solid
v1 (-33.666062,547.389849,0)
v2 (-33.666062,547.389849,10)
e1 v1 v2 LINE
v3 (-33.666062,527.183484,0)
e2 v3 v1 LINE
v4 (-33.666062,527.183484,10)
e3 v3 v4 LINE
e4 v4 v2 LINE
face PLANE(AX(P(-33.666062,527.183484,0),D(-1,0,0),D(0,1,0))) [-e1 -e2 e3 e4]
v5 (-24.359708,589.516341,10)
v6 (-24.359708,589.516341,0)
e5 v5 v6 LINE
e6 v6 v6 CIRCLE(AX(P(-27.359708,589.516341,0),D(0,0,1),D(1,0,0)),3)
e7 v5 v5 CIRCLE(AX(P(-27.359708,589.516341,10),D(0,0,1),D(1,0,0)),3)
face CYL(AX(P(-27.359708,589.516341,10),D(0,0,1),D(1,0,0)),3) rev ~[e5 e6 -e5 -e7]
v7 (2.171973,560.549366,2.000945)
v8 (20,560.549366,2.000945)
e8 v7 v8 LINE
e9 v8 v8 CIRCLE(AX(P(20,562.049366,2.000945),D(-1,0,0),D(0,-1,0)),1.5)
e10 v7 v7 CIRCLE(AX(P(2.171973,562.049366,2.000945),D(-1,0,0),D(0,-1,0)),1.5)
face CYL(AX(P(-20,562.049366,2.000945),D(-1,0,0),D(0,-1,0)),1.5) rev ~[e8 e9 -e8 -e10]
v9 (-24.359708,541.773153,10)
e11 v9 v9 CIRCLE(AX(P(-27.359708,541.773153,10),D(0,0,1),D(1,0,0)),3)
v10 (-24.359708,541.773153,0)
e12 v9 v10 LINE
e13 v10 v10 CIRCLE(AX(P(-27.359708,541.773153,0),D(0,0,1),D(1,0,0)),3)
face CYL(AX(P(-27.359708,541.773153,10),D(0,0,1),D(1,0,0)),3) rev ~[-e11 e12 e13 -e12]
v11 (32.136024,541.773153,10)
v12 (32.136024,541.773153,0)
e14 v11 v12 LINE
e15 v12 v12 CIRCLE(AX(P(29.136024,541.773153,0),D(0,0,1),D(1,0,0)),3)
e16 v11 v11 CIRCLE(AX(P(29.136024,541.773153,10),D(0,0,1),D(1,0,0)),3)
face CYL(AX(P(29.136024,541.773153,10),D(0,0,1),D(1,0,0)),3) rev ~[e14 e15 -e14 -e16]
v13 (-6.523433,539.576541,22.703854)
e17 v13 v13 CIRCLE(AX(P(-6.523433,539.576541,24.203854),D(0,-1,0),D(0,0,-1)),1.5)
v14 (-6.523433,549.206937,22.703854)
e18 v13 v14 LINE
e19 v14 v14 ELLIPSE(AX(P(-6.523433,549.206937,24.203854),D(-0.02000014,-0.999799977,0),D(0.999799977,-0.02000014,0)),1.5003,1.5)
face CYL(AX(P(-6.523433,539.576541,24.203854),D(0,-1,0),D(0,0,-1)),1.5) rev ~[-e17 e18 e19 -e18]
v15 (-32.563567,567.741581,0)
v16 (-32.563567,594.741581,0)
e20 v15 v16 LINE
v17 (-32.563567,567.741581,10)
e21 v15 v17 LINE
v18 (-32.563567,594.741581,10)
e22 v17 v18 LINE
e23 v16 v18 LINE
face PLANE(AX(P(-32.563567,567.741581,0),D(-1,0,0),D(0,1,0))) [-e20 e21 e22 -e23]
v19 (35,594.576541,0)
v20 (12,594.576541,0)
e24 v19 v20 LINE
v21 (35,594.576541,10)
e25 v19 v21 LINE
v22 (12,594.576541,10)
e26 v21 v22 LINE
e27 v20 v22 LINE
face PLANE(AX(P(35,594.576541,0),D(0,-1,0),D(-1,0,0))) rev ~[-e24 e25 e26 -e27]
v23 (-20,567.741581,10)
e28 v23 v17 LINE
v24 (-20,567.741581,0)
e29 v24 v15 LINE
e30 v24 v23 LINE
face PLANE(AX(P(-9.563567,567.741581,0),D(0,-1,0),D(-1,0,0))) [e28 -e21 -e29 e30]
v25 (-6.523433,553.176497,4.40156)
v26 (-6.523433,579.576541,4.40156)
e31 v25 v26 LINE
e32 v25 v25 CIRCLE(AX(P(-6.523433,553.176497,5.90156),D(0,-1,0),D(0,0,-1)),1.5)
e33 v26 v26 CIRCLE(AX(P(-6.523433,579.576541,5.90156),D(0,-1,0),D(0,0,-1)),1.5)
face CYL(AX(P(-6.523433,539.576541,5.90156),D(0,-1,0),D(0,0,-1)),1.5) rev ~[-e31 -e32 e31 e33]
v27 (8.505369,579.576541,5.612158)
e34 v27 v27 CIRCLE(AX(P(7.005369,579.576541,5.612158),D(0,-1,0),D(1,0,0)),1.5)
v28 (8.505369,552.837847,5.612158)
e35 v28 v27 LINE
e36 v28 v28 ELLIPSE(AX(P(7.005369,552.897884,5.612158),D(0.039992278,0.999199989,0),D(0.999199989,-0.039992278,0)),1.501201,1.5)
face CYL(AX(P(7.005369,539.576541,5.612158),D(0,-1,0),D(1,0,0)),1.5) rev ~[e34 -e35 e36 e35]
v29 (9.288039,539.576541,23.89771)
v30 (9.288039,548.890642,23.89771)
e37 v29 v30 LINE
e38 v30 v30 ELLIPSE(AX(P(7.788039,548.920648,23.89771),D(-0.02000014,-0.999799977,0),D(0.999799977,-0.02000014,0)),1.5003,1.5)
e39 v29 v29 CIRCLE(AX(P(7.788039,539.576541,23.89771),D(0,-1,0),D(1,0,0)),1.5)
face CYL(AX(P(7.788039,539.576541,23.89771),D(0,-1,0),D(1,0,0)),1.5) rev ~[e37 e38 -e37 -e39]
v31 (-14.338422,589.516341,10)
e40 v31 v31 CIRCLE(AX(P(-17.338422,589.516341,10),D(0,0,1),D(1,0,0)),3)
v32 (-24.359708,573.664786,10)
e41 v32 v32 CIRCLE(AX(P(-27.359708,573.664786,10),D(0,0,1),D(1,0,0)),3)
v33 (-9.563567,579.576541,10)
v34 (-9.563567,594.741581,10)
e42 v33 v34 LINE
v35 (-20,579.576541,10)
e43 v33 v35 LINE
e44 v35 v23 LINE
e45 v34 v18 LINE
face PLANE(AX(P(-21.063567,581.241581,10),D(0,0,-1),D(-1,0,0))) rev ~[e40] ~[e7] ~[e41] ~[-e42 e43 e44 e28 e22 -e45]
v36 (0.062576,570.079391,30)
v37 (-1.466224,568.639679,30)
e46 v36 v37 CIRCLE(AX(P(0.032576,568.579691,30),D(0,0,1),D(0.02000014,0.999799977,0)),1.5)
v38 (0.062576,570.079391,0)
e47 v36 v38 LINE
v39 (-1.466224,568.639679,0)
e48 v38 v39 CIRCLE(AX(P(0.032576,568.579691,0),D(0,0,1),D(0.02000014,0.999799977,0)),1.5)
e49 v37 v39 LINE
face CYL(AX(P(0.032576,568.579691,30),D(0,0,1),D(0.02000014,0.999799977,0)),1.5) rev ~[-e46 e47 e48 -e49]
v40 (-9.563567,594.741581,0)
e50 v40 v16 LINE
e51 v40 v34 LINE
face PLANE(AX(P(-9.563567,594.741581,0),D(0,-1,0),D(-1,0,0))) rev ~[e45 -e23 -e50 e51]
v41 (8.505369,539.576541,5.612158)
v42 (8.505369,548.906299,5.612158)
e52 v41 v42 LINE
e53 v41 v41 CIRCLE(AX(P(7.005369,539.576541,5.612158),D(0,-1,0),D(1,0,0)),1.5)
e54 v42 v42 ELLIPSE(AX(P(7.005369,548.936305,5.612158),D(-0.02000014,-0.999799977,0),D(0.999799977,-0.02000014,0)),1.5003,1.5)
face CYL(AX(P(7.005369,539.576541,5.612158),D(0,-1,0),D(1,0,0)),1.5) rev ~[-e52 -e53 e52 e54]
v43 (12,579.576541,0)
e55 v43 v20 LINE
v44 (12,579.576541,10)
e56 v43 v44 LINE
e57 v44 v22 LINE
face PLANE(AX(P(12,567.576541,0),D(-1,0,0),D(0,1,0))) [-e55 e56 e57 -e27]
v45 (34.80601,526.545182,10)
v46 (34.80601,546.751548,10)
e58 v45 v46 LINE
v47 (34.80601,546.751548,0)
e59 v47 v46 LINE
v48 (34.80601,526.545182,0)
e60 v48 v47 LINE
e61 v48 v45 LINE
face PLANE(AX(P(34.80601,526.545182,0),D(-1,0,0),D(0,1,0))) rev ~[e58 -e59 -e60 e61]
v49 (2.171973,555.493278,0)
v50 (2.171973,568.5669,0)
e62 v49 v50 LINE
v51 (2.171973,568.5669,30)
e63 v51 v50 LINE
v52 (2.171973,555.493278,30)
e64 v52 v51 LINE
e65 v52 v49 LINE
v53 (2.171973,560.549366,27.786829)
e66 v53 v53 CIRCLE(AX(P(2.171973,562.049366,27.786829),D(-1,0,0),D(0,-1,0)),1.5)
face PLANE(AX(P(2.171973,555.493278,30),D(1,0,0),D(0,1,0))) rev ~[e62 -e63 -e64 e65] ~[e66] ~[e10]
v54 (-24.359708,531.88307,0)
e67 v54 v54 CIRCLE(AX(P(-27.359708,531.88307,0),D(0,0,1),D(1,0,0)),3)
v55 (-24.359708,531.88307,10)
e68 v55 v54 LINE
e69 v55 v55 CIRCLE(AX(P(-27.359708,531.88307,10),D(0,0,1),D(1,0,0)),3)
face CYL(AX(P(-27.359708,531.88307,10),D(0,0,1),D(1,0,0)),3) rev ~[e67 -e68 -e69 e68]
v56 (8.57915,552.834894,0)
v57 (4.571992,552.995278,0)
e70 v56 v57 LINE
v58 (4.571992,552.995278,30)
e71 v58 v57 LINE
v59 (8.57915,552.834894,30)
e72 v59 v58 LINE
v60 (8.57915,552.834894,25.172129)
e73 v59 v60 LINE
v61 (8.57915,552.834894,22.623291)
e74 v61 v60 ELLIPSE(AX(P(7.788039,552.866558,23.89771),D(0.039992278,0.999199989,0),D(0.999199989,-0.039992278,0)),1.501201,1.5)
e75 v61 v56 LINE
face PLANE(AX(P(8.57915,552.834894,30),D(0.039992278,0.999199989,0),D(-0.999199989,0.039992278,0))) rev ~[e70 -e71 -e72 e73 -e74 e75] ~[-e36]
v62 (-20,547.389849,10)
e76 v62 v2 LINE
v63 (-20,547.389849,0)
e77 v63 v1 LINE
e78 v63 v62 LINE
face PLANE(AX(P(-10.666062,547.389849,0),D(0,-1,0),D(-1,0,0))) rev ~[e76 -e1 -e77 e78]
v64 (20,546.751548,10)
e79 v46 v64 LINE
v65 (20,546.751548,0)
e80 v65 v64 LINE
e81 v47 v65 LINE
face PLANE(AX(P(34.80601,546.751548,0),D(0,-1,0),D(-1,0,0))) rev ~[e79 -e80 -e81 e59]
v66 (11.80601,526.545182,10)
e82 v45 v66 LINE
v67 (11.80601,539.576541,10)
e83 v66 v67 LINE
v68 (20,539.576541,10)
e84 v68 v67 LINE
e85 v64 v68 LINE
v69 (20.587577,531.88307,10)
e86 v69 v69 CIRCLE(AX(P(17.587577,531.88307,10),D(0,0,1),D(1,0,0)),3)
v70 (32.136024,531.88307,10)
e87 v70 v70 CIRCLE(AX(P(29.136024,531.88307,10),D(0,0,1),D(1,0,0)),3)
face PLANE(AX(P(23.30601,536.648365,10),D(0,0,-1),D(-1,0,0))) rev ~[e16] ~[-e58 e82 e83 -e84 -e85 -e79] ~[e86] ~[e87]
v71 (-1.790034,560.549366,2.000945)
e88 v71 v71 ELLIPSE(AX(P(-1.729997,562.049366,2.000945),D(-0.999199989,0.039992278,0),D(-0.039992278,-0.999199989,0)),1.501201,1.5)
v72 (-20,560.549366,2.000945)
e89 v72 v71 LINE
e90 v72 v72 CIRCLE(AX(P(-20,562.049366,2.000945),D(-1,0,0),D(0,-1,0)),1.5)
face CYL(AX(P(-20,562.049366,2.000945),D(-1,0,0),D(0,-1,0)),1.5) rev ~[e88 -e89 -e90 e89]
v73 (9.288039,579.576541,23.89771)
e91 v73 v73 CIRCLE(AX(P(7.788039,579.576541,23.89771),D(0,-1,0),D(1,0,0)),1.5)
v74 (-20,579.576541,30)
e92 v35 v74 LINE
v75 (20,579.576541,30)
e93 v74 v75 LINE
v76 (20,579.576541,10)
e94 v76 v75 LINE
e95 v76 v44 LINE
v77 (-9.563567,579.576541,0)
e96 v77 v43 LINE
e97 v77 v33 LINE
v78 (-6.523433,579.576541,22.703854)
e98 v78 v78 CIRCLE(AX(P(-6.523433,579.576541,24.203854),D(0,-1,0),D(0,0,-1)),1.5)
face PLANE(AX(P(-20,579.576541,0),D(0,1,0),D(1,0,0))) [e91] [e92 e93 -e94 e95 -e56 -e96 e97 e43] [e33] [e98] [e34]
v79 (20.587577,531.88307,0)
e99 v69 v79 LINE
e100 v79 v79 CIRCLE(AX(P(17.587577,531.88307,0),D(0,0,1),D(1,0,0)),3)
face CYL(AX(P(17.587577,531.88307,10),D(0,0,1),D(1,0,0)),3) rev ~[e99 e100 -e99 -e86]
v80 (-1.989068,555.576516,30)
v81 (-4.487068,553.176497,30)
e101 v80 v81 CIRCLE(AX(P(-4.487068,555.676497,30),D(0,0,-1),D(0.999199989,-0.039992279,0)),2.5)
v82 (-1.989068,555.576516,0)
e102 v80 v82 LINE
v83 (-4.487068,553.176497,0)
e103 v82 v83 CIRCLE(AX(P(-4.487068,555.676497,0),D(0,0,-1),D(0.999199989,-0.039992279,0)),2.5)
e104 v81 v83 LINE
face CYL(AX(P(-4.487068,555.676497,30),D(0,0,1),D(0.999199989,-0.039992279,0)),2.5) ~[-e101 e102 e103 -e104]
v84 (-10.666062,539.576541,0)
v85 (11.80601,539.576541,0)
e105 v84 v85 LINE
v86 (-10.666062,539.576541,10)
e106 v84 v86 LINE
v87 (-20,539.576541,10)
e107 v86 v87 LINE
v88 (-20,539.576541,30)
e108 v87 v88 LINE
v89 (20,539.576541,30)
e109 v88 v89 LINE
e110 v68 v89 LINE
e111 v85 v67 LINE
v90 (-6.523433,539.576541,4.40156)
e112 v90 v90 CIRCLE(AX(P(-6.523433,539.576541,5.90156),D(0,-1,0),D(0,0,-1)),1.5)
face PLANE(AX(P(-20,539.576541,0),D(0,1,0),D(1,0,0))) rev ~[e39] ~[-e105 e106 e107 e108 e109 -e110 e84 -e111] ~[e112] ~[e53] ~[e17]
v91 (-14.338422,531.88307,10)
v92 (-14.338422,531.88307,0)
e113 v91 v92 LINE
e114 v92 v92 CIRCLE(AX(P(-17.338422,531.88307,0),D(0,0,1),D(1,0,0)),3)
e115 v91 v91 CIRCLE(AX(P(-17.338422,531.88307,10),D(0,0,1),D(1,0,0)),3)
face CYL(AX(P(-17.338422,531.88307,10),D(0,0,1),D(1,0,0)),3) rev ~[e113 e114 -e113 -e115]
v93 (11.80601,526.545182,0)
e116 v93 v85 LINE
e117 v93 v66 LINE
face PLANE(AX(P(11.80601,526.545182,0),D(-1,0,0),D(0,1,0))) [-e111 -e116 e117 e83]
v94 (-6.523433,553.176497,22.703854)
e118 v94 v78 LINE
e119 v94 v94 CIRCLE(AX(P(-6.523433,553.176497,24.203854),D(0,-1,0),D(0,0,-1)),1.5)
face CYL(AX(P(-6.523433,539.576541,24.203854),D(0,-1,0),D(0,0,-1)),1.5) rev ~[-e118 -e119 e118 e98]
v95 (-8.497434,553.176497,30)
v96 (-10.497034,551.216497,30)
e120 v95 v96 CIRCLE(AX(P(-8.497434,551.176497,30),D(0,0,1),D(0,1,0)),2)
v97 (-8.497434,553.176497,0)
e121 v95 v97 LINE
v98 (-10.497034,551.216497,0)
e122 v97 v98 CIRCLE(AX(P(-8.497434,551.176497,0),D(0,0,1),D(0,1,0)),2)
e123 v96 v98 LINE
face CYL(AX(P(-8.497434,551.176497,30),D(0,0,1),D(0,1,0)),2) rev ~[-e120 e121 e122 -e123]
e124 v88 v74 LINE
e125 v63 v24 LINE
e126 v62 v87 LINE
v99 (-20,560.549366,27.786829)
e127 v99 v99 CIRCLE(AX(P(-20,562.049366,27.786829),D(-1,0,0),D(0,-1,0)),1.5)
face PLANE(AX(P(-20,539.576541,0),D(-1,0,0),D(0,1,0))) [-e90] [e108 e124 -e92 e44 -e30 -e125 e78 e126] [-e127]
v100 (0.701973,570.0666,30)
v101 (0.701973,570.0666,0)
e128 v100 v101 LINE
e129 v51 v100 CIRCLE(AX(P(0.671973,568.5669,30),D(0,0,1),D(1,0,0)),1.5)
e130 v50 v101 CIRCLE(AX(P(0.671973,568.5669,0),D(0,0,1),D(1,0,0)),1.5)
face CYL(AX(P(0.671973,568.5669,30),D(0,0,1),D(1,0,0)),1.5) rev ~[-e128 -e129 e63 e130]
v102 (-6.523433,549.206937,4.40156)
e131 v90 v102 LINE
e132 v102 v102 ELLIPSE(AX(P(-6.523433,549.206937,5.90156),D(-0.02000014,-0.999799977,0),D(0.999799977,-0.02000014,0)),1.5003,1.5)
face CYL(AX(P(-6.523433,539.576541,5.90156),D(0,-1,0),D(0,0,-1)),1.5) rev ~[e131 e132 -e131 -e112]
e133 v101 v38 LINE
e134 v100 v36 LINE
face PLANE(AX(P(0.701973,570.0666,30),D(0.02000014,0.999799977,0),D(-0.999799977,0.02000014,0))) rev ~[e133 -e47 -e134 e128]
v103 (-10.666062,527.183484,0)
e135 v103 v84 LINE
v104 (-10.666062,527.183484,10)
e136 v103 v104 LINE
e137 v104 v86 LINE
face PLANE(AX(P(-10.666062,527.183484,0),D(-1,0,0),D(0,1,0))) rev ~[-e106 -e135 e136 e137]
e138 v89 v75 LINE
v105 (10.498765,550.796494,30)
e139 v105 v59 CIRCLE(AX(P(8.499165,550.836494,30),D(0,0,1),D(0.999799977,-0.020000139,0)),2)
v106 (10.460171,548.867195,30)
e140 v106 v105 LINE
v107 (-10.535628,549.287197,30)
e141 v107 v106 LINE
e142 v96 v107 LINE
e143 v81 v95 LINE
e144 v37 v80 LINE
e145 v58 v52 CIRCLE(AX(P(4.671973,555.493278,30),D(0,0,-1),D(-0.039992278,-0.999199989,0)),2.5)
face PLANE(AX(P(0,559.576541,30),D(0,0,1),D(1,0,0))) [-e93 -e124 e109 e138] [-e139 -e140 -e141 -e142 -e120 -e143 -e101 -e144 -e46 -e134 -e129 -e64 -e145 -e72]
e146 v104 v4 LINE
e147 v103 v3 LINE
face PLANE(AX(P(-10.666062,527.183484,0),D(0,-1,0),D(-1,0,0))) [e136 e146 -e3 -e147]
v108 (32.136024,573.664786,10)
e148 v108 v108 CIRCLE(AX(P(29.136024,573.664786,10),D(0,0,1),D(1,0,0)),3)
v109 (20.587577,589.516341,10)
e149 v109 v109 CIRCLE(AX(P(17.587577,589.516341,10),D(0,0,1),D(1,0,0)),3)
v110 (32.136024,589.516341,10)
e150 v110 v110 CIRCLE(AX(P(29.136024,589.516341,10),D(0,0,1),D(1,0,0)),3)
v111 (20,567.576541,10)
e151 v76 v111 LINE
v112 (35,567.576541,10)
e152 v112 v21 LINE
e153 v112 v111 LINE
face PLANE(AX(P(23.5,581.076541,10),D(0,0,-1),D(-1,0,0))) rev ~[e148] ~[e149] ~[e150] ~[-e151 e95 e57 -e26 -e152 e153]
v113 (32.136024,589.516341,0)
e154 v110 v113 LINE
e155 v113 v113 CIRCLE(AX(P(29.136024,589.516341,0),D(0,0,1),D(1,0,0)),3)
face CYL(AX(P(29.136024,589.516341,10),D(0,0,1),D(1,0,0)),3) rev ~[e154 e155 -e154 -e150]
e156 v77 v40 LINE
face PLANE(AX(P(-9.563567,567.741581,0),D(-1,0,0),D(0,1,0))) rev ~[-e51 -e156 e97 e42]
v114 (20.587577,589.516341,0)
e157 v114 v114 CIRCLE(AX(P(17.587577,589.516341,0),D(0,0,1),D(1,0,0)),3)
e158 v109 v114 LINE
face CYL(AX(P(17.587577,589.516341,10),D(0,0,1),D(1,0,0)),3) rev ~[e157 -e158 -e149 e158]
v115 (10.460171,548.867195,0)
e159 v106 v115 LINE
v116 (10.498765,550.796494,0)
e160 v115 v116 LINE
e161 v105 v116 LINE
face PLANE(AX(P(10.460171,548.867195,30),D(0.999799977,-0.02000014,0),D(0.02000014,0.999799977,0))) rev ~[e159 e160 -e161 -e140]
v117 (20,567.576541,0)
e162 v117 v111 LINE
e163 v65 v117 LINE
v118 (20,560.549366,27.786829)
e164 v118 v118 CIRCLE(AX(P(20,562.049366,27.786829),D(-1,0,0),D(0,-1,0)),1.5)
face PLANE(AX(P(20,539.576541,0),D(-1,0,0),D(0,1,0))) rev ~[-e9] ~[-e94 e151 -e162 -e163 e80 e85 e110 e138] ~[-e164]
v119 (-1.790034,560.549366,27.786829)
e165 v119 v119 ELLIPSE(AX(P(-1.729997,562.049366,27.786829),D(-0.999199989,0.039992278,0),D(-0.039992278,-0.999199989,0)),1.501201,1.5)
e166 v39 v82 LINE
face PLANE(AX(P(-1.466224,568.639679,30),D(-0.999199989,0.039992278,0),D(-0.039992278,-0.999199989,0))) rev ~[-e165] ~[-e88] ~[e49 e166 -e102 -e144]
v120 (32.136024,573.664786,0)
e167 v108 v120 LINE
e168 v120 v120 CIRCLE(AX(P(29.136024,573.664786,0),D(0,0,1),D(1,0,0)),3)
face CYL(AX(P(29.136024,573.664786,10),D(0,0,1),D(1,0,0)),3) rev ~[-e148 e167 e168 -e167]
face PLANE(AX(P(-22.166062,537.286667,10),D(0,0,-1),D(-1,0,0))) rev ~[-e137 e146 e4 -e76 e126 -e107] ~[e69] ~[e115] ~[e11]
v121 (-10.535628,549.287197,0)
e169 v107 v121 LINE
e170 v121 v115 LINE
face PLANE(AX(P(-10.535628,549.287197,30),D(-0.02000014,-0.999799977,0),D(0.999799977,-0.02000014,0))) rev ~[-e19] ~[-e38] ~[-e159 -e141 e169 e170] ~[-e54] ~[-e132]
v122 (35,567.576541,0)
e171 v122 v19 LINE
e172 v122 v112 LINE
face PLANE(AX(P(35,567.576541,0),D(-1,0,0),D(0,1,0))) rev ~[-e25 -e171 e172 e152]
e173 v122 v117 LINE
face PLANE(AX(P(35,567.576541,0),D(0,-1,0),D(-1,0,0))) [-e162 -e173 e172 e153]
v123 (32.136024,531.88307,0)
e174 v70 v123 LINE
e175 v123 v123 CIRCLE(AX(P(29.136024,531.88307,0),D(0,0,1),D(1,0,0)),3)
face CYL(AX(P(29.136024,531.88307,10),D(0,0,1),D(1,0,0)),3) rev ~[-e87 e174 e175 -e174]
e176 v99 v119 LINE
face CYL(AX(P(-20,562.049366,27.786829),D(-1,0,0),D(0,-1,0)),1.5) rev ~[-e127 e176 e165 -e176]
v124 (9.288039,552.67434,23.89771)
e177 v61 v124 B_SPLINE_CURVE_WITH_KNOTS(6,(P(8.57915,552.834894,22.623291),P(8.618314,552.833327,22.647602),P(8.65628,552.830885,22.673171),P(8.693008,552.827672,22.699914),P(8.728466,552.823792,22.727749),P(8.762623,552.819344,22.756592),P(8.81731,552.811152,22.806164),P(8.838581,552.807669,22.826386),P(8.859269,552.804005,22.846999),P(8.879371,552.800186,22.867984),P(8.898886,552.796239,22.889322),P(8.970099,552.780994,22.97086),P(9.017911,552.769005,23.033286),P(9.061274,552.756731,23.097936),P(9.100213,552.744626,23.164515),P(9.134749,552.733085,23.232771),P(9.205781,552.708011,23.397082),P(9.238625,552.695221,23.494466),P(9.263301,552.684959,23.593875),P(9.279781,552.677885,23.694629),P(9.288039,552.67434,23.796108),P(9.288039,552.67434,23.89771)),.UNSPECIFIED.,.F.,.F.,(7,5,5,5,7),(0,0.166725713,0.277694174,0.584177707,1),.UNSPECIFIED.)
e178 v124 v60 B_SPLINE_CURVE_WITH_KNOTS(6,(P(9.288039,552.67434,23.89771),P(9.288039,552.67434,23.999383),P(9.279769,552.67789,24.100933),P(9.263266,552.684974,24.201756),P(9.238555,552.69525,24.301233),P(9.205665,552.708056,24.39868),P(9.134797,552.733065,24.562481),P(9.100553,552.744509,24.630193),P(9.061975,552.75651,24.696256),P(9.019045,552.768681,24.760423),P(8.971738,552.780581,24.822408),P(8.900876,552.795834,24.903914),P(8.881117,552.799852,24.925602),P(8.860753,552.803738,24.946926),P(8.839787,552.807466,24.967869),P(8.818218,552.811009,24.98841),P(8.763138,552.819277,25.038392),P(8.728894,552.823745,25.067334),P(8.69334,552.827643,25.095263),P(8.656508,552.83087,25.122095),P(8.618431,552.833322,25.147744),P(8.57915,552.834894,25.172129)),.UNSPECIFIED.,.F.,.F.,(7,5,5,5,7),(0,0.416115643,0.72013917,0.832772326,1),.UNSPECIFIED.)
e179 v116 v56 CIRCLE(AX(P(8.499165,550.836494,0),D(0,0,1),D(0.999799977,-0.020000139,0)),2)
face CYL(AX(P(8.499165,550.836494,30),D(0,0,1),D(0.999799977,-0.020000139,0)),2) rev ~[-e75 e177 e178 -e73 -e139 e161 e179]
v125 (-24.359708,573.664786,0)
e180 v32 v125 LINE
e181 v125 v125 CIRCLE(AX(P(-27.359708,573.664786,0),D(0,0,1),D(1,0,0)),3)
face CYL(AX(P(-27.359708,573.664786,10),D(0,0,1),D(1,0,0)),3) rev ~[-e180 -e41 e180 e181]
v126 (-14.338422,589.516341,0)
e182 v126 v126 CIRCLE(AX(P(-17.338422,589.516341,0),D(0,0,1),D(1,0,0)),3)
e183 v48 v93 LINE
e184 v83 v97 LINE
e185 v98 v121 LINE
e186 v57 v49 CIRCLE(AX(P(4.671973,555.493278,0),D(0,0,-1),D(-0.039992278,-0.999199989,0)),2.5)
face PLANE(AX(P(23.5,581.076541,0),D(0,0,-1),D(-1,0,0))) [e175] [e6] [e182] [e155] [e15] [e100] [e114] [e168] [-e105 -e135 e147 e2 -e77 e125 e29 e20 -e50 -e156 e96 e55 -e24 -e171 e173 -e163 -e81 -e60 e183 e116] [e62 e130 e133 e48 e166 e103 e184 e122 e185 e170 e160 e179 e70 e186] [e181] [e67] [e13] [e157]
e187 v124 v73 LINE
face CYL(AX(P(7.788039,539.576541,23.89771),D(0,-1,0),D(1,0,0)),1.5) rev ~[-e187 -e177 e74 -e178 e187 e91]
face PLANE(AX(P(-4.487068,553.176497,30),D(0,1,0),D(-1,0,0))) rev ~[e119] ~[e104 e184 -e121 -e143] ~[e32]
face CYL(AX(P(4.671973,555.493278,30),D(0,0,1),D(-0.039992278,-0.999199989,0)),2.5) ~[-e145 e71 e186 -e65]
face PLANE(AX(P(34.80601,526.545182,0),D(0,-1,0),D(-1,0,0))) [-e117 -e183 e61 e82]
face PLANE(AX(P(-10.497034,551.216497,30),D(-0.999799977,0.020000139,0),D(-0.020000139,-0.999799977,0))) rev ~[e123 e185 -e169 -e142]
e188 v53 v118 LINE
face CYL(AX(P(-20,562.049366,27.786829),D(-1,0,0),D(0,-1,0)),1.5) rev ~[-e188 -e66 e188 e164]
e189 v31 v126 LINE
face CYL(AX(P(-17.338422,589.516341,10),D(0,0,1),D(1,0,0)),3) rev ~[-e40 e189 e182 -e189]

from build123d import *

# Parameters (mm, degrees)
ESQUISSE1_W             = 40
ESQUISSE1_H             = 40
BOSS_EXTRU_1_DEPTH      = 30
ENL_V_MAT_EXTRU_1_DEPTH = 30
ESQUISSE4_R             = 1.5
ENL_V_MAT_EXTRU_2_DEPTH = 41
ESQUISSE5_R             = 1.5
ENL_V_MAT_EXTRU_3_DEPTH = 41
ESQUISSE6_W             = 23
ESQUISSE6_H             = 27
ESQUISSE6_H_2           = 20.20636544
ESQUISSE6_H_3           = 20.206365439
BOSS_EXTRU_2_DEPTH      = 10
ESQUISSE7_R             = 3
ENL_V_MAT_EXTRU_4_DEPTH = 11.0000001


with BuildPart() as part:
    # Esquisse1 → Boss.-Extru.1 (new body)
    with BuildSketch(Plane.XY):
        with Locations((0, 559.576541314)):
            Rectangle(ESQUISSE1_W, ESQUISSE1_H)
        with BuildLine():
            Line((-10.025728158, 549.777097393), (9.970271386, 549.3770946))
            Line((9.970271386, 549.3770946), (9.998865294, 550.806494043))
            ThreePointArc((9.998865294, 550.806494043), (9.591165544, 551.864859717), (8.559153746, 552.335294236))
            Line((8.559153746, 552.335294236), (4.551996141, 552.495677906))
            ThreePointArc((4.551996141, 552.495677906), (2.508650242, 553.414808545), (1.671972976, 555.493277873))
            Line((1.671972976, 555.493277873), (1.671972976, 568.566900265))
            ThreePointArc((1.671972976, 568.566900265), (1.386115868, 569.266900215), (0.691973116, 569.566700242))
            Line((0.691973116, 569.566700242), (0.052575697, 569.579490838))
            ThreePointArc((0.052575697, 569.579490838), (-0.653001419, 569.307691005), (-0.966624431, 568.619683139))
            Line((-0.966624431, 568.619683139), (-1.489468376, 555.556519791))
            ThreePointArc((-1.489468376, 555.556519791), (-2.408599014, 553.513173892), (-4.487068342, 552.676496626))
            Line((-4.487068342, 552.676496626), (-8.497434284, 552.676496626))
            ThreePointArc((-8.497434284, 552.676496626), (-9.54743421, 552.247710964), (-9.99713425, 551.206496835))
            Line((-9.99713425, 551.206496835), (-10.025728158, 549.777097393))
        make_face(mode=Mode.SUBTRACT)
    extrude(amount=BOSS_EXTRU_1_DEPTH)

    # Esquisse3 → Enlèv. mat.-Extru.1 (cut)
    with BuildSketch(Plane.XY.offset(30)):
        with BuildLine():
            Line((0.701973186, 570.066600231), (0.062575767, 570.079390827))
            ThreePointArc((0.062575767, 570.079390827), (-0.995789907, 569.671691077), (-1.466224425, 568.639679279))
            Line((-1.466224425, 568.639679279), (-1.98906837, 555.57651593))
            ThreePointArc((-1.98906837, 555.57651593), (-2.755010569, 553.873727681), (-4.487068342, 553.176496626))
            Line((-4.487068342, 553.176496626), (-8.497434284, 553.176496626))
            ThreePointArc((-8.497434284, 553.176496626), (-9.897434185, 552.604782409), (-10.497034239, 551.216496905))
            Line((-10.497034239, 551.216496905), (-10.535628216, 549.287197474))
            Line((-10.535628216, 549.287197474), (10.460171305, 548.867194542))
            Line((10.460171305, 548.867194542), (10.498765283, 550.796493973))
            ThreePointArc((10.498765283, 550.796493973), (9.955165615, 552.207648206), (8.579149885, 552.83489423))
            Line((8.579149885, 552.83489423), (4.57199228, 552.995277901))
            ThreePointArc((4.57199228, 552.995277901), (2.869204031, 553.761220099), (2.171972976, 555.493277873))
            Line((2.171972976, 555.493277873), (2.171972976, 568.566900265))
            ThreePointArc((2.171972976, 568.566900265), (1.743187314, 569.61690019), (0.701973186, 570.066600231))
        make_face()
    extrude(amount=-ENL_V_MAT_EXTRU_1_DEPTH, mode=Mode.SUBTRACT)

    # Esquisse4 → Enlèv. mat.-Extru.2 (cut, through all)
    with BuildSketch(Plane.XZ.offset(-539.576541314)):
        with Locations(Location((-6.523433168, 24.203853726, 0), (0, 0, 270))):  # turned: the seam where the file's is
            Circle(ESQUISSE4_R)
        with Locations(Location((-6.523433168, 5.901559872, 0), (0, 0, 270))):  # turned: the seam where the file's is
            Circle(ESQUISSE4_R)
        with Locations((7.005369476, 5.612158233)):
            Circle(ESQUISSE4_R)
        with Locations((7.788039062, 23.897709596)):
            Circle(ESQUISSE4_R)
    extrude(amount=-ENL_V_MAT_EXTRU_2_DEPTH, mode=Mode.SUBTRACT)

    # Esquisse5 → Enlèv. mat.-Extru.3 (cut, through all)
    with BuildSketch(Plane.ZY.offset(20)):
        with Locations(Location((27.786828978, 562.049365696, 0), (0, 0, 270))):  # turned: the seam where the file's is
            Circle(ESQUISSE5_R)
        with Locations(Location((2.00094519, 562.049365696, 0), (0, 0, 270))):  # turned: the seam where the file's is
            Circle(ESQUISSE5_R)
    extrude(amount=-ENL_V_MAT_EXTRU_3_DEPTH, mode=Mode.SUBTRACT)

    # Esquisse6 → Boss.-Extru.2 (add)
    with BuildSketch(Plane(origin=(0, 0, 0), x_dir=(-1, 0, 0), z_dir=(0, 0, -1))):
        with Locations((-23.5, 581.076541314)):
            Rectangle(ESQUISSE6_W, ESQUISSE6_H)
        with Locations((22.166061681, 537.286666725)):
            Rectangle(ESQUISSE6_W, ESQUISSE6_H_2)
        with Locations((21.063566891, 581.241581079)):
            Rectangle(ESQUISSE6_W, ESQUISSE6_H)
        with Locations((-23.306010365, 536.648365215)):
            Rectangle(ESQUISSE6_W, ESQUISSE6_H_3)
    extrude(amount=-BOSS_EXTRU_2_DEPTH)

    # Esquisse7 → Enlèv. mat.-Extru.4 (cut, through all)
    with BuildSketch(Plane.XY.offset(10)):
        with Locations((-27.359707791, 589.516341352)):
            Circle(ESQUISSE7_R)
        with Locations((-27.359707791, 573.664786381)):
            Circle(ESQUISSE7_R)
        with Locations((-27.359707791, 541.773153337)):
            Circle(ESQUISSE7_R)
        with Locations((-27.359707791, 531.883070045)):
            Circle(ESQUISSE7_R)
        with Locations((-17.338422342, 531.883070045)):
            Circle(ESQUISSE7_R)
        with Locations((-17.338422342, 589.516341352)):
            Circle(ESQUISSE7_R)
        with Locations((17.587577233, 589.516341352)):
            Circle(ESQUISSE7_R)
        with Locations((29.13602426, 589.516341352)):
            Circle(ESQUISSE7_R)
        with Locations((29.13602426, 573.664786381)):
            Circle(ESQUISSE7_R)
        with Locations((29.13602426, 541.773153337)):
            Circle(ESQUISSE7_R)
        with Locations((29.13602426, 531.883070045)):
            Circle(ESQUISSE7_R)
        with Locations((17.587577233, 531.883070045)):
            Circle(ESQUISSE7_R)
    extrude(amount=-ENL_V_MAT_EXTRU_4_DEPTH, mode=Mode.SUBTRACT)


solid = part.part
